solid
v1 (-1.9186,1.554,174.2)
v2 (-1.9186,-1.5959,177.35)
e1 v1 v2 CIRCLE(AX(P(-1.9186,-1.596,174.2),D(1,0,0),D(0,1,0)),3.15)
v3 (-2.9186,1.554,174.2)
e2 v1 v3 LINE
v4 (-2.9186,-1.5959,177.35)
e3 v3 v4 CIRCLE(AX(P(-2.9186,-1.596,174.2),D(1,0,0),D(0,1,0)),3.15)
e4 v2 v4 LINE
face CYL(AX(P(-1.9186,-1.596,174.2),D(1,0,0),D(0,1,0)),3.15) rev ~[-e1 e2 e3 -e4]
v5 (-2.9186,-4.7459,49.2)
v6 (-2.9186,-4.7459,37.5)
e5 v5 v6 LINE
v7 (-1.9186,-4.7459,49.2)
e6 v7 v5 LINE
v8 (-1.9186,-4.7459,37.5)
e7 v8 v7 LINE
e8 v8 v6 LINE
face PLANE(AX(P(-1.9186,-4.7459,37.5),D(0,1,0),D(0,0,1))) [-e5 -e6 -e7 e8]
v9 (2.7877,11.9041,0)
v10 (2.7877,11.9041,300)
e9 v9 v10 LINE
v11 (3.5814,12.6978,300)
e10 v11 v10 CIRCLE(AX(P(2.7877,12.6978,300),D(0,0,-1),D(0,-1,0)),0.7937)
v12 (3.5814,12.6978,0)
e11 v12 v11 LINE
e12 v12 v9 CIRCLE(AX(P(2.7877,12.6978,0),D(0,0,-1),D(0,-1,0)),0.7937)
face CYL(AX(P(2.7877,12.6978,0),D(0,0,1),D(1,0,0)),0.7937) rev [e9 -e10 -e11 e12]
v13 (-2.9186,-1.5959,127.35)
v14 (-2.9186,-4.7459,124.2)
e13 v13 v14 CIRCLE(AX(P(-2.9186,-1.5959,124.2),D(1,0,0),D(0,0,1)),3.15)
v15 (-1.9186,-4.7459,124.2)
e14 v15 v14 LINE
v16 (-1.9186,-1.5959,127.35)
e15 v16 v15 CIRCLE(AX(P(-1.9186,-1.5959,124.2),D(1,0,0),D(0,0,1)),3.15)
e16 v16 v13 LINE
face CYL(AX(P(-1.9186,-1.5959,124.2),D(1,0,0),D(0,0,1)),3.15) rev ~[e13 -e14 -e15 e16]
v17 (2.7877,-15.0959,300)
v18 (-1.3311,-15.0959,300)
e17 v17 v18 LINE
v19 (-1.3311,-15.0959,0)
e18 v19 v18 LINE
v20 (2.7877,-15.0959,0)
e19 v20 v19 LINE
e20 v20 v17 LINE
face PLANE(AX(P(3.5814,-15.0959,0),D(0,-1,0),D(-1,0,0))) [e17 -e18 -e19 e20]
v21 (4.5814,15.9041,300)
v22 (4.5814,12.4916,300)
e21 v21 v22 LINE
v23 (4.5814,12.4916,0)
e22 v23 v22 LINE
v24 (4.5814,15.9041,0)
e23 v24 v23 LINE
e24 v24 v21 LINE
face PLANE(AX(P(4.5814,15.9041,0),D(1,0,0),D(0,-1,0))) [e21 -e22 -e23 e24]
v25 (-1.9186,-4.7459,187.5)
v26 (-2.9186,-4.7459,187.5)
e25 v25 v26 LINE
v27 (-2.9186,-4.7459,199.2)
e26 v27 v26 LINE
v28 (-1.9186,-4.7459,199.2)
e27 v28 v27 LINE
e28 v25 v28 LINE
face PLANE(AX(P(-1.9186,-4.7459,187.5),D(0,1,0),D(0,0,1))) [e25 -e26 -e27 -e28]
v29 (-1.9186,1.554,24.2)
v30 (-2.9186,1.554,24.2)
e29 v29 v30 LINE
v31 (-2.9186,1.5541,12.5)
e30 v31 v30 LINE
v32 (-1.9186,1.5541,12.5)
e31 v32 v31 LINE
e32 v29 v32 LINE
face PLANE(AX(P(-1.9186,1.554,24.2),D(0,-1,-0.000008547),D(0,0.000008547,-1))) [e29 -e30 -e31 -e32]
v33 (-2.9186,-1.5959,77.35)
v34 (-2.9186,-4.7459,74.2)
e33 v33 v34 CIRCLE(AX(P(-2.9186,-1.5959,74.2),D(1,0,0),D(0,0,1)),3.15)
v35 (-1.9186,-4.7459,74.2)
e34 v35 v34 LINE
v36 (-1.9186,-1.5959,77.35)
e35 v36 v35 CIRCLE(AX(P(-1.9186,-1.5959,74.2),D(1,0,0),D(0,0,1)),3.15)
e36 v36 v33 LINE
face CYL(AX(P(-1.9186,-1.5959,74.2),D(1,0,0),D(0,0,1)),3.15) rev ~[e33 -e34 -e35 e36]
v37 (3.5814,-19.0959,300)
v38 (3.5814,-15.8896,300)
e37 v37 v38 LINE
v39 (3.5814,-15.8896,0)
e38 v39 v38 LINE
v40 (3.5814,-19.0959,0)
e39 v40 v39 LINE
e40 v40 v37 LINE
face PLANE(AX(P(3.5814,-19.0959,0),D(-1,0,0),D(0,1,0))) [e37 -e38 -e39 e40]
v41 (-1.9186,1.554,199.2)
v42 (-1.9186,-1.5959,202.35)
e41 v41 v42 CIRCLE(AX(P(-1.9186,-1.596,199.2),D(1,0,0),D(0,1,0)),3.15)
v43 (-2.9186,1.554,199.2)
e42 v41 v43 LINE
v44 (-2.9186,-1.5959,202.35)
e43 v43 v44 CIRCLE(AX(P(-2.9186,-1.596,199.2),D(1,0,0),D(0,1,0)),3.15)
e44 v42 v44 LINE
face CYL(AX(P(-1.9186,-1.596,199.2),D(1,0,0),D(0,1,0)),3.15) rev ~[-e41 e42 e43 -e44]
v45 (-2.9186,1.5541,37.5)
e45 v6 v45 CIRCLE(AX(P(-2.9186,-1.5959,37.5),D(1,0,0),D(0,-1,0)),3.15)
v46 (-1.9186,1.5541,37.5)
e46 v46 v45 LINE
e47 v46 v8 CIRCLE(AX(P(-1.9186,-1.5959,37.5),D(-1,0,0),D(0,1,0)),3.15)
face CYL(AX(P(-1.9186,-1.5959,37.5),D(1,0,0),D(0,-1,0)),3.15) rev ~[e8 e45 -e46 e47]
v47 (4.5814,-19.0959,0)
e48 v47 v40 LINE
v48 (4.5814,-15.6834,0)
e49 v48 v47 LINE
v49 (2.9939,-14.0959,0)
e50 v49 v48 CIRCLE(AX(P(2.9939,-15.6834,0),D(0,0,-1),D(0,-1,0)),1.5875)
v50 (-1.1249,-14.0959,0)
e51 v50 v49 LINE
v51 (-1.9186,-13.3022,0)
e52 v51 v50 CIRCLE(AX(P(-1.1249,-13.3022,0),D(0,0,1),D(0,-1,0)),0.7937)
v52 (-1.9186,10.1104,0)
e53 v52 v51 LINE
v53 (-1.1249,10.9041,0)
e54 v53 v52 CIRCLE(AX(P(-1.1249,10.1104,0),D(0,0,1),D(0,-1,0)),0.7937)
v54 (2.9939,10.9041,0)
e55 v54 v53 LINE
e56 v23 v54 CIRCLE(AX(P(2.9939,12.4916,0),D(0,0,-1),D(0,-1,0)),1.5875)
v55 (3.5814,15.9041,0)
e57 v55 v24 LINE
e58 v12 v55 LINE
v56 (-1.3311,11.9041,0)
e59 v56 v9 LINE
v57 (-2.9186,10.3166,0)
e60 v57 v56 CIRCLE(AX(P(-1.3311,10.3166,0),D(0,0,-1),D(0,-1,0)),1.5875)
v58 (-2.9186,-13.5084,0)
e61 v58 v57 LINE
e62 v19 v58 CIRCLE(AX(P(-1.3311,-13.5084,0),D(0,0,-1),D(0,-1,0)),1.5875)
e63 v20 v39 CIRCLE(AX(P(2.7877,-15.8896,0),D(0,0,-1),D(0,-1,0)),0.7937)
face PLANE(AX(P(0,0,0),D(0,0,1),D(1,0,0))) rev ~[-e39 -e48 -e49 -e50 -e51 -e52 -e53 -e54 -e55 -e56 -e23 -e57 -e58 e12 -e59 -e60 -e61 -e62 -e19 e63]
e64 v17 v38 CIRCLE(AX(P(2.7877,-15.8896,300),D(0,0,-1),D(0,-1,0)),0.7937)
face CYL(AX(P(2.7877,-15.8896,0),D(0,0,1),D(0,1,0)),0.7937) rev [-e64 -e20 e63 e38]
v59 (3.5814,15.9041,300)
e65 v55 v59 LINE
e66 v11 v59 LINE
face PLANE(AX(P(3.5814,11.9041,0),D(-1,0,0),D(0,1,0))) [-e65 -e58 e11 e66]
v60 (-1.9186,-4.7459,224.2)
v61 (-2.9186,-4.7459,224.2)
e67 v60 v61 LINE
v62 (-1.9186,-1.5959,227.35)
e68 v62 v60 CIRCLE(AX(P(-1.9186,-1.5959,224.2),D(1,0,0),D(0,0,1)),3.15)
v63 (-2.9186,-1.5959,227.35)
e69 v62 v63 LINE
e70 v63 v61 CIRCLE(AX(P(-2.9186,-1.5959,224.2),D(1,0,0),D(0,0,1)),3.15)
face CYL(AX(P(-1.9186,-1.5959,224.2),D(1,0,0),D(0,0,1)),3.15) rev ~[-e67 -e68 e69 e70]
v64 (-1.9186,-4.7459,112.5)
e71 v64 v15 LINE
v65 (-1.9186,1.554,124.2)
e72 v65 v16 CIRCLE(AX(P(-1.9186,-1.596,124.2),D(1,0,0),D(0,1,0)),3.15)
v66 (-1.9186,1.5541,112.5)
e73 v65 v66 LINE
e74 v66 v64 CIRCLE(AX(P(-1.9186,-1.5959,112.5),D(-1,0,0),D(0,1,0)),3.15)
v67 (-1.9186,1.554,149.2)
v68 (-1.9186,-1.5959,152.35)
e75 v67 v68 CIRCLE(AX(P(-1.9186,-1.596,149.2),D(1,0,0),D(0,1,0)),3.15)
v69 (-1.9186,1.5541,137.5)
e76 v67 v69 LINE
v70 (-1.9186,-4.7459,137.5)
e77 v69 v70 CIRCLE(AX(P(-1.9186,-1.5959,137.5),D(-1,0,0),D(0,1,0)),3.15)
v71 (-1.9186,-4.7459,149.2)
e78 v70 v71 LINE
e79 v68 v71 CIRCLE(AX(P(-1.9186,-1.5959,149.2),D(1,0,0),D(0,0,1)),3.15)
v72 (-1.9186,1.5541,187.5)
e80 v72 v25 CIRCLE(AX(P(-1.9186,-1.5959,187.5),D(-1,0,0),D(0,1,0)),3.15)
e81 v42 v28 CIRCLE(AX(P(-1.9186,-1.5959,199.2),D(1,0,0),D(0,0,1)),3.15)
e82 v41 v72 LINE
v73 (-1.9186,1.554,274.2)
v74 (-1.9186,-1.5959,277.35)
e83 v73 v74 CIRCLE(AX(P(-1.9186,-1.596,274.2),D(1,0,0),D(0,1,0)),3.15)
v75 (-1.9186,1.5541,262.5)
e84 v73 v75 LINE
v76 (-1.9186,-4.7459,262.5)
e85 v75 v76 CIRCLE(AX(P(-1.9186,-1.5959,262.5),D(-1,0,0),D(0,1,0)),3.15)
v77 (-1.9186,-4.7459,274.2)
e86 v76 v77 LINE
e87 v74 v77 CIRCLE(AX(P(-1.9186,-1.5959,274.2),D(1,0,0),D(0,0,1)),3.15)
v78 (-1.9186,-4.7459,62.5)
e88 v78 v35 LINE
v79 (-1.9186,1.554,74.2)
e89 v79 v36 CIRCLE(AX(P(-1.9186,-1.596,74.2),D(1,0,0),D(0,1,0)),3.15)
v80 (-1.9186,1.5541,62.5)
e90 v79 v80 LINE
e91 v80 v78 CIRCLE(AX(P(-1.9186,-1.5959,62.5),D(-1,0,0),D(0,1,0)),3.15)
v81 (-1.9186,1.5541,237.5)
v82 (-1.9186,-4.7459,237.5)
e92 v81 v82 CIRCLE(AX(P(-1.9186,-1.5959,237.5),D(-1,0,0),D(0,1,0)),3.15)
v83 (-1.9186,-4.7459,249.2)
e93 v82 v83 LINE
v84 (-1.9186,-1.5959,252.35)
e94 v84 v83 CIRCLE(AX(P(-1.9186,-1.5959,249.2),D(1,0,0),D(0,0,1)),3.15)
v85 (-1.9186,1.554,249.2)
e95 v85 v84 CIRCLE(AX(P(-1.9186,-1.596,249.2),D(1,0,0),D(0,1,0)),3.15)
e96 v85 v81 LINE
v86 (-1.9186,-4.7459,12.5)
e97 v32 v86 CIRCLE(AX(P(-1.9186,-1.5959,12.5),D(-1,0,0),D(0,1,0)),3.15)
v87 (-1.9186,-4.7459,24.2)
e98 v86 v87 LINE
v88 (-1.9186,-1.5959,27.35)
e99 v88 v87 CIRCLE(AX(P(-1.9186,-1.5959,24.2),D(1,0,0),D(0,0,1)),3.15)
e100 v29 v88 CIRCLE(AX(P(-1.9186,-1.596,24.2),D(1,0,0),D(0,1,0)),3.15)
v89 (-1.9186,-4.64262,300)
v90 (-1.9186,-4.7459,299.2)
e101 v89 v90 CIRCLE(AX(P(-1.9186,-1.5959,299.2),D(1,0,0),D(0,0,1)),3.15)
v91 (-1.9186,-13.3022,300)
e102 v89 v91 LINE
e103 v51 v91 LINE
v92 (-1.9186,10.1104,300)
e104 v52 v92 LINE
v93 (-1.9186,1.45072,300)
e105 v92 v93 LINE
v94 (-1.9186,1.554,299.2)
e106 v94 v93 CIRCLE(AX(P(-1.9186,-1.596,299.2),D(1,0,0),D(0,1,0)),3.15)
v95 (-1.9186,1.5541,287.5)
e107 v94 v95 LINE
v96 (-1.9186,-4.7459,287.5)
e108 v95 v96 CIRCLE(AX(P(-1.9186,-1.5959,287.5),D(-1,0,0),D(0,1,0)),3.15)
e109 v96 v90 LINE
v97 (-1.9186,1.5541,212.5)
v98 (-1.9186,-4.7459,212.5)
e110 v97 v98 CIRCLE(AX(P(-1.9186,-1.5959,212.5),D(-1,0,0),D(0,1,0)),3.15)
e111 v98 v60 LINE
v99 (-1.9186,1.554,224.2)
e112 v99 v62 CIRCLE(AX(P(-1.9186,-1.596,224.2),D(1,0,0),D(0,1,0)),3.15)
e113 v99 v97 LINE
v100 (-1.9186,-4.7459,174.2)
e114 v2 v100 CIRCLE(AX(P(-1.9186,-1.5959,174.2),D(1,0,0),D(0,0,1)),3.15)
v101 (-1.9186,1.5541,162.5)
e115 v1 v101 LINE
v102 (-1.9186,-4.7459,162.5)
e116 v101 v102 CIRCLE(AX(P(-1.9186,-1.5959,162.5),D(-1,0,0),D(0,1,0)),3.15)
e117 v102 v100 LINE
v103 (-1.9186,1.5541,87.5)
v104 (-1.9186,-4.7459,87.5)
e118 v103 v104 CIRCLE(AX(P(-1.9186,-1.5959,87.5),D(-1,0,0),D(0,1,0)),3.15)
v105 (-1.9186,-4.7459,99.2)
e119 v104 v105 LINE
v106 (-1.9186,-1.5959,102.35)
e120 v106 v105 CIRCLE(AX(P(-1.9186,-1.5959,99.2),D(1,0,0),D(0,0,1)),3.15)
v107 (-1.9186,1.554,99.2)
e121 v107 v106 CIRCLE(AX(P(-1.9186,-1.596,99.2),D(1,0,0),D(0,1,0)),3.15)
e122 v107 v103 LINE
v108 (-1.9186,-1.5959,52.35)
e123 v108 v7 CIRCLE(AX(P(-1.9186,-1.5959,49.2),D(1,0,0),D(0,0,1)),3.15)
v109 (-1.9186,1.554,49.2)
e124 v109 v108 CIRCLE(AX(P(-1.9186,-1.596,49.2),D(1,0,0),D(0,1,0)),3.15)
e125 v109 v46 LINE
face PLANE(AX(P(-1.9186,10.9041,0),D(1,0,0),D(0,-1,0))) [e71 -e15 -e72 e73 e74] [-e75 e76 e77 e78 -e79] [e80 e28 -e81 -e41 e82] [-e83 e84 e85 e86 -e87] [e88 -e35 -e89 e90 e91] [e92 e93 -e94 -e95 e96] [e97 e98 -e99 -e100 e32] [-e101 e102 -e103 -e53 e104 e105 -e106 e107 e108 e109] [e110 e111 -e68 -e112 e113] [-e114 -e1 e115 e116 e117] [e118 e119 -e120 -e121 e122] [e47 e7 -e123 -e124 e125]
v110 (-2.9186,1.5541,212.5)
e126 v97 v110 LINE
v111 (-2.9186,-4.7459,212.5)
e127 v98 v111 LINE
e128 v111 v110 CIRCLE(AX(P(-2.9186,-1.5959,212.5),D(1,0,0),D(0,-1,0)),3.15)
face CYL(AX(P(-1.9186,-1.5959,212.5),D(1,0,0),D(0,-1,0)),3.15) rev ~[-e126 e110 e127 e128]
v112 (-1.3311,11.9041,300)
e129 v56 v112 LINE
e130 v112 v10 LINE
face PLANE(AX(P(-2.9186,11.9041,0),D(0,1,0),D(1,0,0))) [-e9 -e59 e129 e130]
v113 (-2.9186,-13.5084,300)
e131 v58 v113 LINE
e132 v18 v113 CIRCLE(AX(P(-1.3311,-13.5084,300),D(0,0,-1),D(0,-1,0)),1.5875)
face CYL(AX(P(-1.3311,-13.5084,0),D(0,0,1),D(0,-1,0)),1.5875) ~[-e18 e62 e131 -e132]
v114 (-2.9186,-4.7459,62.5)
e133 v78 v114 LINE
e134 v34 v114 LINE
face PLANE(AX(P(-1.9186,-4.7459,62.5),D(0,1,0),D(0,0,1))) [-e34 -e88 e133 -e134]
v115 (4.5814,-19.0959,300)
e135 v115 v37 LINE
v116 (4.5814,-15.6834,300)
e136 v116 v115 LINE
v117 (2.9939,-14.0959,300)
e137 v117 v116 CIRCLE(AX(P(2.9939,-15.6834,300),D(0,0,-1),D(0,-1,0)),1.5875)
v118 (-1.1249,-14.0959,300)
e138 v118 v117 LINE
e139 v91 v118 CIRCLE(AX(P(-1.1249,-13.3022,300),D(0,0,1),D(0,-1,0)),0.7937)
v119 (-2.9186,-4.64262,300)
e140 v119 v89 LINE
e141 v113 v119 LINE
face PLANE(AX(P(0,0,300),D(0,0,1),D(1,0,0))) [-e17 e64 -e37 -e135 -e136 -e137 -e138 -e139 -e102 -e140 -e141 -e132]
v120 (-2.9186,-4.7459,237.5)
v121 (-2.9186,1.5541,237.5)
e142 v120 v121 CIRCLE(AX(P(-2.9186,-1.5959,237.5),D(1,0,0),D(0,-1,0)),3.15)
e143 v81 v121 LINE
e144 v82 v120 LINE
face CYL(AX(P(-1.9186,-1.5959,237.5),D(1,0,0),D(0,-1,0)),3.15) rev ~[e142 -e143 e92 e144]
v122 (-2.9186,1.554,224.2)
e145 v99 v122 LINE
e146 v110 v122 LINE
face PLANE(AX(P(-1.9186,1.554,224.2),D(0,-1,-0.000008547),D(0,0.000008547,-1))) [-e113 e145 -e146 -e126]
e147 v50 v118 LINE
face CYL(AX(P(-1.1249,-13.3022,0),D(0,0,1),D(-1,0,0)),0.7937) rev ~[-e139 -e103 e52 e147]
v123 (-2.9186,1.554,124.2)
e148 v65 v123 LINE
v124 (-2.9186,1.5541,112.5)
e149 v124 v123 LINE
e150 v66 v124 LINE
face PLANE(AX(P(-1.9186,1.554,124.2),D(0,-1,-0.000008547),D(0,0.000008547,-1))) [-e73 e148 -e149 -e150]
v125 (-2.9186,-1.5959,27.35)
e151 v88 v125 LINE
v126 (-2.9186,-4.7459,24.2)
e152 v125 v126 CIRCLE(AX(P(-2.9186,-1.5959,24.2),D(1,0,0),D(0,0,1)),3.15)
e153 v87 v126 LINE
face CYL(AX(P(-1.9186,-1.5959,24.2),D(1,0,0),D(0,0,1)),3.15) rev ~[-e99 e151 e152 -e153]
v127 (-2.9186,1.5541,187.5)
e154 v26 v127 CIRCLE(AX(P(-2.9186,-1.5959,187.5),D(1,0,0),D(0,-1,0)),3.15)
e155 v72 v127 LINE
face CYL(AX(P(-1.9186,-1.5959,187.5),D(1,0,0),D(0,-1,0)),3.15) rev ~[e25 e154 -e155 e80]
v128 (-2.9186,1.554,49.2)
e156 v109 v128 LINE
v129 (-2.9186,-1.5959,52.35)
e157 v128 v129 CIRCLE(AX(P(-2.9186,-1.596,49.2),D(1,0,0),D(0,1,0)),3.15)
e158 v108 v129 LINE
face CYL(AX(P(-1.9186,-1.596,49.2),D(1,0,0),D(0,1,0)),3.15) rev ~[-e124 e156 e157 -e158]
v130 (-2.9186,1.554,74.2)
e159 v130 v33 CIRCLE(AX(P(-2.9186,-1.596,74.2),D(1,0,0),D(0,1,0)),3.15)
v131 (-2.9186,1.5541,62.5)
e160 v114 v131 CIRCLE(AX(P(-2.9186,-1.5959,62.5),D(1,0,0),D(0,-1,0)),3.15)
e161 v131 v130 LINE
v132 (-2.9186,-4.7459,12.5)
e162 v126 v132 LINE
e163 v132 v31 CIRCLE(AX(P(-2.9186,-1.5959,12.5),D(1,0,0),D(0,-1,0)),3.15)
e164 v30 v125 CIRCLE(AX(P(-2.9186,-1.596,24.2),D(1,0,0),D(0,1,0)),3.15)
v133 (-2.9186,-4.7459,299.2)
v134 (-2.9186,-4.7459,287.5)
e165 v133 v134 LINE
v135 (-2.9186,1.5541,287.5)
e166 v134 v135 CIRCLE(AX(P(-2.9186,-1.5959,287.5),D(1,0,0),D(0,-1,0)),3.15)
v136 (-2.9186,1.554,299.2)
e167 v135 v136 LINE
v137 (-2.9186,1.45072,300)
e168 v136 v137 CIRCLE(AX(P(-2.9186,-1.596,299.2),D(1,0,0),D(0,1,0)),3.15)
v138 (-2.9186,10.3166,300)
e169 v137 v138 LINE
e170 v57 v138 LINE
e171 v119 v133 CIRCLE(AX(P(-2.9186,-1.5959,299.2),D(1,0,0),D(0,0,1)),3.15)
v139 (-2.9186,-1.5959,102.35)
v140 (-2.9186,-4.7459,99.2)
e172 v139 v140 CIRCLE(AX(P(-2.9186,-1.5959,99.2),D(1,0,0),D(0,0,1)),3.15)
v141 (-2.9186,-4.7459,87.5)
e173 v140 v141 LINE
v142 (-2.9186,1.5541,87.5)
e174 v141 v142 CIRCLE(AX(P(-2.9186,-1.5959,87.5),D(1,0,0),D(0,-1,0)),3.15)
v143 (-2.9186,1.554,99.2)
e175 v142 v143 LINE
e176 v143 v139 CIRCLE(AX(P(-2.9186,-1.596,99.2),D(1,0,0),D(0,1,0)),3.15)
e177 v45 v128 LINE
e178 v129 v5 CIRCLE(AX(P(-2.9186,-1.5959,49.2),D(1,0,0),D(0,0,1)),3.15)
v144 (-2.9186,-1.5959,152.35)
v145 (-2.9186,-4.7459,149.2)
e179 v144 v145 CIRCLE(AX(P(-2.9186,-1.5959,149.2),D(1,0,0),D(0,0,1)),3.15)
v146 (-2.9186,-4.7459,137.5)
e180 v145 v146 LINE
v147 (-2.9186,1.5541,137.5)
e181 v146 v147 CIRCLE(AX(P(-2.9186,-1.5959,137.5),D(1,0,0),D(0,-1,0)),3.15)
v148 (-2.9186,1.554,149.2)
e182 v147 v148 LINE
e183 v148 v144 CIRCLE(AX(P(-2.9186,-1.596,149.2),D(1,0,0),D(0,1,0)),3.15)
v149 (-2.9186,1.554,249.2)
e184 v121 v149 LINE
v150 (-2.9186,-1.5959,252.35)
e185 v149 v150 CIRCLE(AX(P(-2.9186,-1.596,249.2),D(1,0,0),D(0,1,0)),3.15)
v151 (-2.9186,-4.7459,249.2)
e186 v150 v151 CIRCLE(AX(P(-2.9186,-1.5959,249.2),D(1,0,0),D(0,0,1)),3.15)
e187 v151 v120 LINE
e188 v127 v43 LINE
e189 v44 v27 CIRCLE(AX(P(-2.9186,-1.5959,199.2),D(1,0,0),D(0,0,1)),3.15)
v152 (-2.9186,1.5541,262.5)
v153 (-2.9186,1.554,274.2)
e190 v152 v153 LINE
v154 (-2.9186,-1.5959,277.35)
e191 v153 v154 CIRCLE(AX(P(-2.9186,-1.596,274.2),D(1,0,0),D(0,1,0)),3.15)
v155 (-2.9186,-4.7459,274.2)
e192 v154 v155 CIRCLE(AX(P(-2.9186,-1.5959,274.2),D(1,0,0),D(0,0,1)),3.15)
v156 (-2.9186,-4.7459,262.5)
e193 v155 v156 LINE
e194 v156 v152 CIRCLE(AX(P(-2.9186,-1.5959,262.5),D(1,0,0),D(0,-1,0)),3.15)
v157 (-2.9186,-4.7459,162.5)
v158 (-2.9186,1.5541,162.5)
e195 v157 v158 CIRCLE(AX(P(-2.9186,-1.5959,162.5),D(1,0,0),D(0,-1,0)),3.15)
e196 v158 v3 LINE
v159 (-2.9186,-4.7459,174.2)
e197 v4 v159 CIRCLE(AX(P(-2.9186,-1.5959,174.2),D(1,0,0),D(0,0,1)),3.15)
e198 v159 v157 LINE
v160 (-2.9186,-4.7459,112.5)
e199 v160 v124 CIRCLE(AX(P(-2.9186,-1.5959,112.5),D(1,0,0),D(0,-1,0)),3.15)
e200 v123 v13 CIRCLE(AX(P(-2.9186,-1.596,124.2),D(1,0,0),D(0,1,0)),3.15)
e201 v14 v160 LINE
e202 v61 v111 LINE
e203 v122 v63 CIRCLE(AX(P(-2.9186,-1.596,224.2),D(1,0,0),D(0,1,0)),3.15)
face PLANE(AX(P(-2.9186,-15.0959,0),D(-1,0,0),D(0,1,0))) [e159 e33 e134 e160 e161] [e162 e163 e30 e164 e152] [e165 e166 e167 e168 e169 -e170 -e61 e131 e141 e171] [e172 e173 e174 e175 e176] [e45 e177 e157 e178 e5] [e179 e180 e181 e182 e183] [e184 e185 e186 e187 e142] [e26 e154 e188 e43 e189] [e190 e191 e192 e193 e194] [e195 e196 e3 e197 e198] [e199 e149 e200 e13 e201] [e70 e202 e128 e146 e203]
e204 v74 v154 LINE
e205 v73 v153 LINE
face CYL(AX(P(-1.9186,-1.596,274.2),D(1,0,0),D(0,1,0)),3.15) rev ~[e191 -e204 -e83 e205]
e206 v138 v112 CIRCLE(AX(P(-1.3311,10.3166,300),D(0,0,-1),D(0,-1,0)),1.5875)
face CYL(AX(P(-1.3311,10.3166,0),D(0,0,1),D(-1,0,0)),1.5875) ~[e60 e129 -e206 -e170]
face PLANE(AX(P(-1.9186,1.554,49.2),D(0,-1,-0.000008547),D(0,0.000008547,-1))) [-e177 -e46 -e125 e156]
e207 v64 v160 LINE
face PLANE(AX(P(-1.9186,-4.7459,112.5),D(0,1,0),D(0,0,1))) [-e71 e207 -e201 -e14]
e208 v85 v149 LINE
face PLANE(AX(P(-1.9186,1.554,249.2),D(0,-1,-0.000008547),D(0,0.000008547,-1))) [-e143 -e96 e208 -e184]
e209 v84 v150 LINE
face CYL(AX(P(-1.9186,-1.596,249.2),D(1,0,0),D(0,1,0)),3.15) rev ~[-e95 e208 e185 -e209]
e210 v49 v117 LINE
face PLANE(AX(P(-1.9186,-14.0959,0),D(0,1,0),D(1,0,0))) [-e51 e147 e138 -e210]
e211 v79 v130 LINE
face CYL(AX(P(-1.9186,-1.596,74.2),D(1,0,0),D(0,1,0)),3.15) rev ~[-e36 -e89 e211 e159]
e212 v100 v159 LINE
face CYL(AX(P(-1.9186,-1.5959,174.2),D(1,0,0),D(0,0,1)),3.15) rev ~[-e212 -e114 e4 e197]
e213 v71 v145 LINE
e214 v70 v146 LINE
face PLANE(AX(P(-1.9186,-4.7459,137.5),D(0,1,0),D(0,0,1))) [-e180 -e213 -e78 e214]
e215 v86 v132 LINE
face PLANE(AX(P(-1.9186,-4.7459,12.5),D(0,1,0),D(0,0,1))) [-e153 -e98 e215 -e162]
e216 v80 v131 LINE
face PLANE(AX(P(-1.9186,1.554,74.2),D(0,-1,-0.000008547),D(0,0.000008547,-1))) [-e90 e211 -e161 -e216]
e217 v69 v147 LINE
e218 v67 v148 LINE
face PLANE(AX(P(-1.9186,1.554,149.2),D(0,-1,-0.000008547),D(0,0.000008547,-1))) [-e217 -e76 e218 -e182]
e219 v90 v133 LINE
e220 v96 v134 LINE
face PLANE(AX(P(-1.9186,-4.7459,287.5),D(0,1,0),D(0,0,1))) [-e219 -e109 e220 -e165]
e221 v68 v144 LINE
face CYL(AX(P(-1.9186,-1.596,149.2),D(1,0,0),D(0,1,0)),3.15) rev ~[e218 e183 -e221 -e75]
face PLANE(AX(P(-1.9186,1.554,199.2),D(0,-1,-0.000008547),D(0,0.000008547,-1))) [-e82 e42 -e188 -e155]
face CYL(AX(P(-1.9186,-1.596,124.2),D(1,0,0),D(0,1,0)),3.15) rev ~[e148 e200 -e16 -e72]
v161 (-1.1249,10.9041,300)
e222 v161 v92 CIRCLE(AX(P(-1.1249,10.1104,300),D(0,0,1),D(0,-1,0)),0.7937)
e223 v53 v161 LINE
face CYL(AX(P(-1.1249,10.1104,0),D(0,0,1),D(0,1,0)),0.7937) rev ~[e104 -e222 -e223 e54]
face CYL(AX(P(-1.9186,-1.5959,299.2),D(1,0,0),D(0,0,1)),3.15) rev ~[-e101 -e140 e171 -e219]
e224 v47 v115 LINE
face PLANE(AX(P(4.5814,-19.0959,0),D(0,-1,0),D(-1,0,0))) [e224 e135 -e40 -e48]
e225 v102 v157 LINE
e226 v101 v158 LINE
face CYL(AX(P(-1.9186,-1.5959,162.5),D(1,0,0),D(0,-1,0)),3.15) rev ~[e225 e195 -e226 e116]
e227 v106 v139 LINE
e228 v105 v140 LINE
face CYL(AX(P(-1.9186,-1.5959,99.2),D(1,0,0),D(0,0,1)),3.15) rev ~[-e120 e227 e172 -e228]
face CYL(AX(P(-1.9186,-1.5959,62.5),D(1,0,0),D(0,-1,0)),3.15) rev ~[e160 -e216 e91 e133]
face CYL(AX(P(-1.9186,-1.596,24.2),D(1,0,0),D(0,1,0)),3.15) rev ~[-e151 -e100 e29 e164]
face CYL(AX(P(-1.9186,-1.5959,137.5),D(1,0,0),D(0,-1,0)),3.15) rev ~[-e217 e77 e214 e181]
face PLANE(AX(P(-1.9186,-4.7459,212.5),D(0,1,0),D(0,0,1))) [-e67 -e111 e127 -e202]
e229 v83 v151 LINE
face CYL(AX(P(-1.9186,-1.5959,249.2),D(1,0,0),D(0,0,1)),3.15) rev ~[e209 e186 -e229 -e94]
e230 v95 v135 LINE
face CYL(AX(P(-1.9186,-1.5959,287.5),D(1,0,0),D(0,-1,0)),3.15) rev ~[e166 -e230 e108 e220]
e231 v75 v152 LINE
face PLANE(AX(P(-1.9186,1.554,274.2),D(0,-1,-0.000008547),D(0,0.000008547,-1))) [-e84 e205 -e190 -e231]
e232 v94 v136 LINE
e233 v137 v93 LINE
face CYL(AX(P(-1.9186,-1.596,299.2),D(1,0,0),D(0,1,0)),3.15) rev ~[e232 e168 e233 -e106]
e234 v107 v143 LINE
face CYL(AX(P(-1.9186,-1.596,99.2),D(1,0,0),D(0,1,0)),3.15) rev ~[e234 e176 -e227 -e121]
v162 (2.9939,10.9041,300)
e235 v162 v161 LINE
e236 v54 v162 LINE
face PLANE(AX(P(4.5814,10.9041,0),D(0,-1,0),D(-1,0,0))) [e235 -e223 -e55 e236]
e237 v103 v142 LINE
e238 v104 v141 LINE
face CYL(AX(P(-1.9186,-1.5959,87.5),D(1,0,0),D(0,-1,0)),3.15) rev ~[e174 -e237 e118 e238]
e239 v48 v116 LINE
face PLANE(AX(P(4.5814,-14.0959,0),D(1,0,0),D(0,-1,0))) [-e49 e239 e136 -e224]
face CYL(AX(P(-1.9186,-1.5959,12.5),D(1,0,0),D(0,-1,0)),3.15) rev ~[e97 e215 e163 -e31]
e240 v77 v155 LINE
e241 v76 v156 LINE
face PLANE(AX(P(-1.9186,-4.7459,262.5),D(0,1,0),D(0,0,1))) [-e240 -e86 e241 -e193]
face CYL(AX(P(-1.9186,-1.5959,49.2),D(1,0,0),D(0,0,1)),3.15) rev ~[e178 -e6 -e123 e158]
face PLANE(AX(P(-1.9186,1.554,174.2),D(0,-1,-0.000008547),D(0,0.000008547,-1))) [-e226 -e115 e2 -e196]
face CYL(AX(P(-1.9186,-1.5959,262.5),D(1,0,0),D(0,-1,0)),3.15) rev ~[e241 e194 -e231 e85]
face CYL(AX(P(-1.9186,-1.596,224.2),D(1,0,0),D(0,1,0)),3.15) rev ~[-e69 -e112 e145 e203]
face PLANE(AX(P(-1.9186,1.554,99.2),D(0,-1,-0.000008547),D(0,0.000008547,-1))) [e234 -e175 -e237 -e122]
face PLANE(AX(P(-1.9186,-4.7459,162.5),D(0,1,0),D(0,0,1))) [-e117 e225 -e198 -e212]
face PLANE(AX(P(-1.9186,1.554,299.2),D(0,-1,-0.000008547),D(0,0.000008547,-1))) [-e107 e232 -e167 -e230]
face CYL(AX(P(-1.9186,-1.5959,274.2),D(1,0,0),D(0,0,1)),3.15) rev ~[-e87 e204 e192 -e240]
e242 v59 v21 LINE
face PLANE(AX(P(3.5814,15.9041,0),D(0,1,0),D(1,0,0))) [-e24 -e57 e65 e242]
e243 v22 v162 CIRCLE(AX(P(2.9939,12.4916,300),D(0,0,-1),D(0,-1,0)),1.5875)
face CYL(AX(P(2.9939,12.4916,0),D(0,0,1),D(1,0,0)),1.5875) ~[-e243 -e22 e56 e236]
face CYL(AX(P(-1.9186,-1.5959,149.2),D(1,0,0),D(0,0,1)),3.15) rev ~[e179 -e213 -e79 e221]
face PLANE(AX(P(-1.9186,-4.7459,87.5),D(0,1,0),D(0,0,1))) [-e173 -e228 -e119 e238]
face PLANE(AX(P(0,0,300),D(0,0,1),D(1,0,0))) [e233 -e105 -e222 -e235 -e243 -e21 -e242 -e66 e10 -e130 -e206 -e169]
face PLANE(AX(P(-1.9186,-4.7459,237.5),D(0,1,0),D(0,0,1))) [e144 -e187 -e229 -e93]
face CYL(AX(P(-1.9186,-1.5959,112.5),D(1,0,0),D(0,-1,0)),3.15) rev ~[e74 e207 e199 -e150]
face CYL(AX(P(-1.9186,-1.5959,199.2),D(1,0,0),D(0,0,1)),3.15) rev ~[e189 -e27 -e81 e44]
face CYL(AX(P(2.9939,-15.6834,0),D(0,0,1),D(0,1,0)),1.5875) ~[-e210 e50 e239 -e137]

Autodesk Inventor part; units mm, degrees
ref_plane "YZ Plane" through (0, 0, 0) normal (1, 0, 0) x (0, 1, 0)
ref_plane "XZ Plane" through (0, 0, 0) normal (0, 1, 0) x (-1, 0, 0)
ref_plane "XY Plane" through (0, 0, 0) normal (0, 0, 1) x (1, 0, 0)
sketch "Sketch2" plane through (0, 0, 0) normal (0, 0, 1) x (1, 0, 0)
  line L0 (3.5814, 15.9041) -> (4.5814, 15.9041)
  line L1 (4.5814, 15.9041) -> (4.5814, 10.9041)
  line L2 (4.5814, 10.9041) -> (-1.9186, 10.9041)
  line L3 (-1.9186, 10.9041) -> (-1.9186, -14.0959)
  line L4 (-1.9186, -14.0959) -> (4.5814, -14.0959)
  line L5 (4.5814, -14.0959) -> (4.5814, -19.0959)
  line L6 (4.5814, -19.0959) -> (3.5814, -19.0959)
  line L7 (3.5814, -19.0959) -> (3.5814, -15.0959)
  line L8 (3.5814, -15.0959) -> (-2.9186, -15.0959)
  line L9 (-2.9186, -15.0959) -> (-2.9186, 11.9041)
  line L10 (-2.9186, 11.9041) -> (3.5814, 11.9041)
  line L11 (3.5814, 11.9041) -> (3.5814, 15.9041)
  dimension "d0" = 1
  dimension "d1" = 35
  dimension "d2" = 27
  dimension "d3" = 1
  dimension "d4" = 1
  dimension "d5" = 1
  dimension "d6" = 1
  dimension "d7" = 4
  dimension "d8" = 7.5
extrude "Main" add sketch "Sketch2" along normal blind 300
fillet "Fillet2" radius 1.5875 4 edges at (4.5814, 10.9041, 150) (-2.9186, 11.9041, 150) (4.5814, -14.0959, 150) (-2.9186, -15.0959, 150)
fillet "Fillet3" radius 0.7937 4 edges at (3.5814, -15.0959, 150) (-1.9186, 10.9041, 150) (3.5814, 11.9041, 150) (-1.9186, -14.0959, 150)
sketch "Sketch3" plane through (-1.9186, -13.3022, 0) normal (1, 0, 0) x (0, 0, -1)
  line L0 (0, 23.4125) -> (0, 0) projected
  line L1 (-12.5, 8.5563) -> (-24.2, 8.5563)
  line L2 (-27.35, 11.7063) -> (-27.35, 11.7062)
  line L3 (-24.2, 14.8562) -> (-12.5, 14.8563)
  line L4 (-9.35, 11.7063) -> (-9.35, 11.7063)
  arc A0 (-24.2, 14.8562) -> (-27.35, 11.7062) centre (-24.2, 11.7062) ccw
  arc A1 (-27.35, 11.7063) -> (-24.2, 8.5563) centre (-24.2, 11.7063) ccw
  arc A2 (-12.5, 8.5563) -> (-9.35, 11.7063) centre (-12.5, 11.7063) ccw
  arc A3 (-9.35, 11.7063) -> (-12.5, 14.8563) centre (-12.5, 11.7063) ccw
  line L5 (0, 29.2063) -> (-300, 29.2063) projected
  dimension "d14" = 3.15
  dimension "d15" = 6.3
  dimension "d16" = 18
  dimension "d17" = 17.5
  dimension "d18" = 12.5
extrude "Extrusion2" cut sketch "Sketch3" against normal through all
pattern_linear "Rectangular Pattern1" count 30 spacing 25 along (0, 0, 1) of "Extrusion2"
equation "\"d0\" = DINWidth"
equation "\"d1\" = DINHeight"
equation "\"d2\" = DINHeightBack"
equation "\"d3\" = DINWidth"
equation "\"d4\" = DINWidth"
equation "\"d5\" = DINWidth"
equation "\"d6\" = DINWidth"
equation "\"d7\" = -0.5 * d2 + 0.5 * d1"
equation "\"d8\" = DINDepth"
equation "\"d14\" = 0.5 * SlotHeight"
equation "\"d15\" = SlotHeight"
equation "\"d16\" = SlotLength"
equation "\"d17\" = 0.5 * DINHeight"
equation "\"d18\" = 0.5 * SlotSpacing"
equation "\"d23\" = SlotSpacing"
equation "\"DINLength\" = 76.2"
equation "\"DINHeight\" = 35"
equation "\"DINHeightBack\" = 27"
equation "\"DINDepth\" = 7.5"
equation "\"SlotHeight\" = 6.3"
equation "\"SlotLength\" = 18"
equation "\"SlotSpacing\" = 25"
equation "\"DINWidth\" = 1"
properties part number "Din Rail_300" material "Латунь светло-желтая"
